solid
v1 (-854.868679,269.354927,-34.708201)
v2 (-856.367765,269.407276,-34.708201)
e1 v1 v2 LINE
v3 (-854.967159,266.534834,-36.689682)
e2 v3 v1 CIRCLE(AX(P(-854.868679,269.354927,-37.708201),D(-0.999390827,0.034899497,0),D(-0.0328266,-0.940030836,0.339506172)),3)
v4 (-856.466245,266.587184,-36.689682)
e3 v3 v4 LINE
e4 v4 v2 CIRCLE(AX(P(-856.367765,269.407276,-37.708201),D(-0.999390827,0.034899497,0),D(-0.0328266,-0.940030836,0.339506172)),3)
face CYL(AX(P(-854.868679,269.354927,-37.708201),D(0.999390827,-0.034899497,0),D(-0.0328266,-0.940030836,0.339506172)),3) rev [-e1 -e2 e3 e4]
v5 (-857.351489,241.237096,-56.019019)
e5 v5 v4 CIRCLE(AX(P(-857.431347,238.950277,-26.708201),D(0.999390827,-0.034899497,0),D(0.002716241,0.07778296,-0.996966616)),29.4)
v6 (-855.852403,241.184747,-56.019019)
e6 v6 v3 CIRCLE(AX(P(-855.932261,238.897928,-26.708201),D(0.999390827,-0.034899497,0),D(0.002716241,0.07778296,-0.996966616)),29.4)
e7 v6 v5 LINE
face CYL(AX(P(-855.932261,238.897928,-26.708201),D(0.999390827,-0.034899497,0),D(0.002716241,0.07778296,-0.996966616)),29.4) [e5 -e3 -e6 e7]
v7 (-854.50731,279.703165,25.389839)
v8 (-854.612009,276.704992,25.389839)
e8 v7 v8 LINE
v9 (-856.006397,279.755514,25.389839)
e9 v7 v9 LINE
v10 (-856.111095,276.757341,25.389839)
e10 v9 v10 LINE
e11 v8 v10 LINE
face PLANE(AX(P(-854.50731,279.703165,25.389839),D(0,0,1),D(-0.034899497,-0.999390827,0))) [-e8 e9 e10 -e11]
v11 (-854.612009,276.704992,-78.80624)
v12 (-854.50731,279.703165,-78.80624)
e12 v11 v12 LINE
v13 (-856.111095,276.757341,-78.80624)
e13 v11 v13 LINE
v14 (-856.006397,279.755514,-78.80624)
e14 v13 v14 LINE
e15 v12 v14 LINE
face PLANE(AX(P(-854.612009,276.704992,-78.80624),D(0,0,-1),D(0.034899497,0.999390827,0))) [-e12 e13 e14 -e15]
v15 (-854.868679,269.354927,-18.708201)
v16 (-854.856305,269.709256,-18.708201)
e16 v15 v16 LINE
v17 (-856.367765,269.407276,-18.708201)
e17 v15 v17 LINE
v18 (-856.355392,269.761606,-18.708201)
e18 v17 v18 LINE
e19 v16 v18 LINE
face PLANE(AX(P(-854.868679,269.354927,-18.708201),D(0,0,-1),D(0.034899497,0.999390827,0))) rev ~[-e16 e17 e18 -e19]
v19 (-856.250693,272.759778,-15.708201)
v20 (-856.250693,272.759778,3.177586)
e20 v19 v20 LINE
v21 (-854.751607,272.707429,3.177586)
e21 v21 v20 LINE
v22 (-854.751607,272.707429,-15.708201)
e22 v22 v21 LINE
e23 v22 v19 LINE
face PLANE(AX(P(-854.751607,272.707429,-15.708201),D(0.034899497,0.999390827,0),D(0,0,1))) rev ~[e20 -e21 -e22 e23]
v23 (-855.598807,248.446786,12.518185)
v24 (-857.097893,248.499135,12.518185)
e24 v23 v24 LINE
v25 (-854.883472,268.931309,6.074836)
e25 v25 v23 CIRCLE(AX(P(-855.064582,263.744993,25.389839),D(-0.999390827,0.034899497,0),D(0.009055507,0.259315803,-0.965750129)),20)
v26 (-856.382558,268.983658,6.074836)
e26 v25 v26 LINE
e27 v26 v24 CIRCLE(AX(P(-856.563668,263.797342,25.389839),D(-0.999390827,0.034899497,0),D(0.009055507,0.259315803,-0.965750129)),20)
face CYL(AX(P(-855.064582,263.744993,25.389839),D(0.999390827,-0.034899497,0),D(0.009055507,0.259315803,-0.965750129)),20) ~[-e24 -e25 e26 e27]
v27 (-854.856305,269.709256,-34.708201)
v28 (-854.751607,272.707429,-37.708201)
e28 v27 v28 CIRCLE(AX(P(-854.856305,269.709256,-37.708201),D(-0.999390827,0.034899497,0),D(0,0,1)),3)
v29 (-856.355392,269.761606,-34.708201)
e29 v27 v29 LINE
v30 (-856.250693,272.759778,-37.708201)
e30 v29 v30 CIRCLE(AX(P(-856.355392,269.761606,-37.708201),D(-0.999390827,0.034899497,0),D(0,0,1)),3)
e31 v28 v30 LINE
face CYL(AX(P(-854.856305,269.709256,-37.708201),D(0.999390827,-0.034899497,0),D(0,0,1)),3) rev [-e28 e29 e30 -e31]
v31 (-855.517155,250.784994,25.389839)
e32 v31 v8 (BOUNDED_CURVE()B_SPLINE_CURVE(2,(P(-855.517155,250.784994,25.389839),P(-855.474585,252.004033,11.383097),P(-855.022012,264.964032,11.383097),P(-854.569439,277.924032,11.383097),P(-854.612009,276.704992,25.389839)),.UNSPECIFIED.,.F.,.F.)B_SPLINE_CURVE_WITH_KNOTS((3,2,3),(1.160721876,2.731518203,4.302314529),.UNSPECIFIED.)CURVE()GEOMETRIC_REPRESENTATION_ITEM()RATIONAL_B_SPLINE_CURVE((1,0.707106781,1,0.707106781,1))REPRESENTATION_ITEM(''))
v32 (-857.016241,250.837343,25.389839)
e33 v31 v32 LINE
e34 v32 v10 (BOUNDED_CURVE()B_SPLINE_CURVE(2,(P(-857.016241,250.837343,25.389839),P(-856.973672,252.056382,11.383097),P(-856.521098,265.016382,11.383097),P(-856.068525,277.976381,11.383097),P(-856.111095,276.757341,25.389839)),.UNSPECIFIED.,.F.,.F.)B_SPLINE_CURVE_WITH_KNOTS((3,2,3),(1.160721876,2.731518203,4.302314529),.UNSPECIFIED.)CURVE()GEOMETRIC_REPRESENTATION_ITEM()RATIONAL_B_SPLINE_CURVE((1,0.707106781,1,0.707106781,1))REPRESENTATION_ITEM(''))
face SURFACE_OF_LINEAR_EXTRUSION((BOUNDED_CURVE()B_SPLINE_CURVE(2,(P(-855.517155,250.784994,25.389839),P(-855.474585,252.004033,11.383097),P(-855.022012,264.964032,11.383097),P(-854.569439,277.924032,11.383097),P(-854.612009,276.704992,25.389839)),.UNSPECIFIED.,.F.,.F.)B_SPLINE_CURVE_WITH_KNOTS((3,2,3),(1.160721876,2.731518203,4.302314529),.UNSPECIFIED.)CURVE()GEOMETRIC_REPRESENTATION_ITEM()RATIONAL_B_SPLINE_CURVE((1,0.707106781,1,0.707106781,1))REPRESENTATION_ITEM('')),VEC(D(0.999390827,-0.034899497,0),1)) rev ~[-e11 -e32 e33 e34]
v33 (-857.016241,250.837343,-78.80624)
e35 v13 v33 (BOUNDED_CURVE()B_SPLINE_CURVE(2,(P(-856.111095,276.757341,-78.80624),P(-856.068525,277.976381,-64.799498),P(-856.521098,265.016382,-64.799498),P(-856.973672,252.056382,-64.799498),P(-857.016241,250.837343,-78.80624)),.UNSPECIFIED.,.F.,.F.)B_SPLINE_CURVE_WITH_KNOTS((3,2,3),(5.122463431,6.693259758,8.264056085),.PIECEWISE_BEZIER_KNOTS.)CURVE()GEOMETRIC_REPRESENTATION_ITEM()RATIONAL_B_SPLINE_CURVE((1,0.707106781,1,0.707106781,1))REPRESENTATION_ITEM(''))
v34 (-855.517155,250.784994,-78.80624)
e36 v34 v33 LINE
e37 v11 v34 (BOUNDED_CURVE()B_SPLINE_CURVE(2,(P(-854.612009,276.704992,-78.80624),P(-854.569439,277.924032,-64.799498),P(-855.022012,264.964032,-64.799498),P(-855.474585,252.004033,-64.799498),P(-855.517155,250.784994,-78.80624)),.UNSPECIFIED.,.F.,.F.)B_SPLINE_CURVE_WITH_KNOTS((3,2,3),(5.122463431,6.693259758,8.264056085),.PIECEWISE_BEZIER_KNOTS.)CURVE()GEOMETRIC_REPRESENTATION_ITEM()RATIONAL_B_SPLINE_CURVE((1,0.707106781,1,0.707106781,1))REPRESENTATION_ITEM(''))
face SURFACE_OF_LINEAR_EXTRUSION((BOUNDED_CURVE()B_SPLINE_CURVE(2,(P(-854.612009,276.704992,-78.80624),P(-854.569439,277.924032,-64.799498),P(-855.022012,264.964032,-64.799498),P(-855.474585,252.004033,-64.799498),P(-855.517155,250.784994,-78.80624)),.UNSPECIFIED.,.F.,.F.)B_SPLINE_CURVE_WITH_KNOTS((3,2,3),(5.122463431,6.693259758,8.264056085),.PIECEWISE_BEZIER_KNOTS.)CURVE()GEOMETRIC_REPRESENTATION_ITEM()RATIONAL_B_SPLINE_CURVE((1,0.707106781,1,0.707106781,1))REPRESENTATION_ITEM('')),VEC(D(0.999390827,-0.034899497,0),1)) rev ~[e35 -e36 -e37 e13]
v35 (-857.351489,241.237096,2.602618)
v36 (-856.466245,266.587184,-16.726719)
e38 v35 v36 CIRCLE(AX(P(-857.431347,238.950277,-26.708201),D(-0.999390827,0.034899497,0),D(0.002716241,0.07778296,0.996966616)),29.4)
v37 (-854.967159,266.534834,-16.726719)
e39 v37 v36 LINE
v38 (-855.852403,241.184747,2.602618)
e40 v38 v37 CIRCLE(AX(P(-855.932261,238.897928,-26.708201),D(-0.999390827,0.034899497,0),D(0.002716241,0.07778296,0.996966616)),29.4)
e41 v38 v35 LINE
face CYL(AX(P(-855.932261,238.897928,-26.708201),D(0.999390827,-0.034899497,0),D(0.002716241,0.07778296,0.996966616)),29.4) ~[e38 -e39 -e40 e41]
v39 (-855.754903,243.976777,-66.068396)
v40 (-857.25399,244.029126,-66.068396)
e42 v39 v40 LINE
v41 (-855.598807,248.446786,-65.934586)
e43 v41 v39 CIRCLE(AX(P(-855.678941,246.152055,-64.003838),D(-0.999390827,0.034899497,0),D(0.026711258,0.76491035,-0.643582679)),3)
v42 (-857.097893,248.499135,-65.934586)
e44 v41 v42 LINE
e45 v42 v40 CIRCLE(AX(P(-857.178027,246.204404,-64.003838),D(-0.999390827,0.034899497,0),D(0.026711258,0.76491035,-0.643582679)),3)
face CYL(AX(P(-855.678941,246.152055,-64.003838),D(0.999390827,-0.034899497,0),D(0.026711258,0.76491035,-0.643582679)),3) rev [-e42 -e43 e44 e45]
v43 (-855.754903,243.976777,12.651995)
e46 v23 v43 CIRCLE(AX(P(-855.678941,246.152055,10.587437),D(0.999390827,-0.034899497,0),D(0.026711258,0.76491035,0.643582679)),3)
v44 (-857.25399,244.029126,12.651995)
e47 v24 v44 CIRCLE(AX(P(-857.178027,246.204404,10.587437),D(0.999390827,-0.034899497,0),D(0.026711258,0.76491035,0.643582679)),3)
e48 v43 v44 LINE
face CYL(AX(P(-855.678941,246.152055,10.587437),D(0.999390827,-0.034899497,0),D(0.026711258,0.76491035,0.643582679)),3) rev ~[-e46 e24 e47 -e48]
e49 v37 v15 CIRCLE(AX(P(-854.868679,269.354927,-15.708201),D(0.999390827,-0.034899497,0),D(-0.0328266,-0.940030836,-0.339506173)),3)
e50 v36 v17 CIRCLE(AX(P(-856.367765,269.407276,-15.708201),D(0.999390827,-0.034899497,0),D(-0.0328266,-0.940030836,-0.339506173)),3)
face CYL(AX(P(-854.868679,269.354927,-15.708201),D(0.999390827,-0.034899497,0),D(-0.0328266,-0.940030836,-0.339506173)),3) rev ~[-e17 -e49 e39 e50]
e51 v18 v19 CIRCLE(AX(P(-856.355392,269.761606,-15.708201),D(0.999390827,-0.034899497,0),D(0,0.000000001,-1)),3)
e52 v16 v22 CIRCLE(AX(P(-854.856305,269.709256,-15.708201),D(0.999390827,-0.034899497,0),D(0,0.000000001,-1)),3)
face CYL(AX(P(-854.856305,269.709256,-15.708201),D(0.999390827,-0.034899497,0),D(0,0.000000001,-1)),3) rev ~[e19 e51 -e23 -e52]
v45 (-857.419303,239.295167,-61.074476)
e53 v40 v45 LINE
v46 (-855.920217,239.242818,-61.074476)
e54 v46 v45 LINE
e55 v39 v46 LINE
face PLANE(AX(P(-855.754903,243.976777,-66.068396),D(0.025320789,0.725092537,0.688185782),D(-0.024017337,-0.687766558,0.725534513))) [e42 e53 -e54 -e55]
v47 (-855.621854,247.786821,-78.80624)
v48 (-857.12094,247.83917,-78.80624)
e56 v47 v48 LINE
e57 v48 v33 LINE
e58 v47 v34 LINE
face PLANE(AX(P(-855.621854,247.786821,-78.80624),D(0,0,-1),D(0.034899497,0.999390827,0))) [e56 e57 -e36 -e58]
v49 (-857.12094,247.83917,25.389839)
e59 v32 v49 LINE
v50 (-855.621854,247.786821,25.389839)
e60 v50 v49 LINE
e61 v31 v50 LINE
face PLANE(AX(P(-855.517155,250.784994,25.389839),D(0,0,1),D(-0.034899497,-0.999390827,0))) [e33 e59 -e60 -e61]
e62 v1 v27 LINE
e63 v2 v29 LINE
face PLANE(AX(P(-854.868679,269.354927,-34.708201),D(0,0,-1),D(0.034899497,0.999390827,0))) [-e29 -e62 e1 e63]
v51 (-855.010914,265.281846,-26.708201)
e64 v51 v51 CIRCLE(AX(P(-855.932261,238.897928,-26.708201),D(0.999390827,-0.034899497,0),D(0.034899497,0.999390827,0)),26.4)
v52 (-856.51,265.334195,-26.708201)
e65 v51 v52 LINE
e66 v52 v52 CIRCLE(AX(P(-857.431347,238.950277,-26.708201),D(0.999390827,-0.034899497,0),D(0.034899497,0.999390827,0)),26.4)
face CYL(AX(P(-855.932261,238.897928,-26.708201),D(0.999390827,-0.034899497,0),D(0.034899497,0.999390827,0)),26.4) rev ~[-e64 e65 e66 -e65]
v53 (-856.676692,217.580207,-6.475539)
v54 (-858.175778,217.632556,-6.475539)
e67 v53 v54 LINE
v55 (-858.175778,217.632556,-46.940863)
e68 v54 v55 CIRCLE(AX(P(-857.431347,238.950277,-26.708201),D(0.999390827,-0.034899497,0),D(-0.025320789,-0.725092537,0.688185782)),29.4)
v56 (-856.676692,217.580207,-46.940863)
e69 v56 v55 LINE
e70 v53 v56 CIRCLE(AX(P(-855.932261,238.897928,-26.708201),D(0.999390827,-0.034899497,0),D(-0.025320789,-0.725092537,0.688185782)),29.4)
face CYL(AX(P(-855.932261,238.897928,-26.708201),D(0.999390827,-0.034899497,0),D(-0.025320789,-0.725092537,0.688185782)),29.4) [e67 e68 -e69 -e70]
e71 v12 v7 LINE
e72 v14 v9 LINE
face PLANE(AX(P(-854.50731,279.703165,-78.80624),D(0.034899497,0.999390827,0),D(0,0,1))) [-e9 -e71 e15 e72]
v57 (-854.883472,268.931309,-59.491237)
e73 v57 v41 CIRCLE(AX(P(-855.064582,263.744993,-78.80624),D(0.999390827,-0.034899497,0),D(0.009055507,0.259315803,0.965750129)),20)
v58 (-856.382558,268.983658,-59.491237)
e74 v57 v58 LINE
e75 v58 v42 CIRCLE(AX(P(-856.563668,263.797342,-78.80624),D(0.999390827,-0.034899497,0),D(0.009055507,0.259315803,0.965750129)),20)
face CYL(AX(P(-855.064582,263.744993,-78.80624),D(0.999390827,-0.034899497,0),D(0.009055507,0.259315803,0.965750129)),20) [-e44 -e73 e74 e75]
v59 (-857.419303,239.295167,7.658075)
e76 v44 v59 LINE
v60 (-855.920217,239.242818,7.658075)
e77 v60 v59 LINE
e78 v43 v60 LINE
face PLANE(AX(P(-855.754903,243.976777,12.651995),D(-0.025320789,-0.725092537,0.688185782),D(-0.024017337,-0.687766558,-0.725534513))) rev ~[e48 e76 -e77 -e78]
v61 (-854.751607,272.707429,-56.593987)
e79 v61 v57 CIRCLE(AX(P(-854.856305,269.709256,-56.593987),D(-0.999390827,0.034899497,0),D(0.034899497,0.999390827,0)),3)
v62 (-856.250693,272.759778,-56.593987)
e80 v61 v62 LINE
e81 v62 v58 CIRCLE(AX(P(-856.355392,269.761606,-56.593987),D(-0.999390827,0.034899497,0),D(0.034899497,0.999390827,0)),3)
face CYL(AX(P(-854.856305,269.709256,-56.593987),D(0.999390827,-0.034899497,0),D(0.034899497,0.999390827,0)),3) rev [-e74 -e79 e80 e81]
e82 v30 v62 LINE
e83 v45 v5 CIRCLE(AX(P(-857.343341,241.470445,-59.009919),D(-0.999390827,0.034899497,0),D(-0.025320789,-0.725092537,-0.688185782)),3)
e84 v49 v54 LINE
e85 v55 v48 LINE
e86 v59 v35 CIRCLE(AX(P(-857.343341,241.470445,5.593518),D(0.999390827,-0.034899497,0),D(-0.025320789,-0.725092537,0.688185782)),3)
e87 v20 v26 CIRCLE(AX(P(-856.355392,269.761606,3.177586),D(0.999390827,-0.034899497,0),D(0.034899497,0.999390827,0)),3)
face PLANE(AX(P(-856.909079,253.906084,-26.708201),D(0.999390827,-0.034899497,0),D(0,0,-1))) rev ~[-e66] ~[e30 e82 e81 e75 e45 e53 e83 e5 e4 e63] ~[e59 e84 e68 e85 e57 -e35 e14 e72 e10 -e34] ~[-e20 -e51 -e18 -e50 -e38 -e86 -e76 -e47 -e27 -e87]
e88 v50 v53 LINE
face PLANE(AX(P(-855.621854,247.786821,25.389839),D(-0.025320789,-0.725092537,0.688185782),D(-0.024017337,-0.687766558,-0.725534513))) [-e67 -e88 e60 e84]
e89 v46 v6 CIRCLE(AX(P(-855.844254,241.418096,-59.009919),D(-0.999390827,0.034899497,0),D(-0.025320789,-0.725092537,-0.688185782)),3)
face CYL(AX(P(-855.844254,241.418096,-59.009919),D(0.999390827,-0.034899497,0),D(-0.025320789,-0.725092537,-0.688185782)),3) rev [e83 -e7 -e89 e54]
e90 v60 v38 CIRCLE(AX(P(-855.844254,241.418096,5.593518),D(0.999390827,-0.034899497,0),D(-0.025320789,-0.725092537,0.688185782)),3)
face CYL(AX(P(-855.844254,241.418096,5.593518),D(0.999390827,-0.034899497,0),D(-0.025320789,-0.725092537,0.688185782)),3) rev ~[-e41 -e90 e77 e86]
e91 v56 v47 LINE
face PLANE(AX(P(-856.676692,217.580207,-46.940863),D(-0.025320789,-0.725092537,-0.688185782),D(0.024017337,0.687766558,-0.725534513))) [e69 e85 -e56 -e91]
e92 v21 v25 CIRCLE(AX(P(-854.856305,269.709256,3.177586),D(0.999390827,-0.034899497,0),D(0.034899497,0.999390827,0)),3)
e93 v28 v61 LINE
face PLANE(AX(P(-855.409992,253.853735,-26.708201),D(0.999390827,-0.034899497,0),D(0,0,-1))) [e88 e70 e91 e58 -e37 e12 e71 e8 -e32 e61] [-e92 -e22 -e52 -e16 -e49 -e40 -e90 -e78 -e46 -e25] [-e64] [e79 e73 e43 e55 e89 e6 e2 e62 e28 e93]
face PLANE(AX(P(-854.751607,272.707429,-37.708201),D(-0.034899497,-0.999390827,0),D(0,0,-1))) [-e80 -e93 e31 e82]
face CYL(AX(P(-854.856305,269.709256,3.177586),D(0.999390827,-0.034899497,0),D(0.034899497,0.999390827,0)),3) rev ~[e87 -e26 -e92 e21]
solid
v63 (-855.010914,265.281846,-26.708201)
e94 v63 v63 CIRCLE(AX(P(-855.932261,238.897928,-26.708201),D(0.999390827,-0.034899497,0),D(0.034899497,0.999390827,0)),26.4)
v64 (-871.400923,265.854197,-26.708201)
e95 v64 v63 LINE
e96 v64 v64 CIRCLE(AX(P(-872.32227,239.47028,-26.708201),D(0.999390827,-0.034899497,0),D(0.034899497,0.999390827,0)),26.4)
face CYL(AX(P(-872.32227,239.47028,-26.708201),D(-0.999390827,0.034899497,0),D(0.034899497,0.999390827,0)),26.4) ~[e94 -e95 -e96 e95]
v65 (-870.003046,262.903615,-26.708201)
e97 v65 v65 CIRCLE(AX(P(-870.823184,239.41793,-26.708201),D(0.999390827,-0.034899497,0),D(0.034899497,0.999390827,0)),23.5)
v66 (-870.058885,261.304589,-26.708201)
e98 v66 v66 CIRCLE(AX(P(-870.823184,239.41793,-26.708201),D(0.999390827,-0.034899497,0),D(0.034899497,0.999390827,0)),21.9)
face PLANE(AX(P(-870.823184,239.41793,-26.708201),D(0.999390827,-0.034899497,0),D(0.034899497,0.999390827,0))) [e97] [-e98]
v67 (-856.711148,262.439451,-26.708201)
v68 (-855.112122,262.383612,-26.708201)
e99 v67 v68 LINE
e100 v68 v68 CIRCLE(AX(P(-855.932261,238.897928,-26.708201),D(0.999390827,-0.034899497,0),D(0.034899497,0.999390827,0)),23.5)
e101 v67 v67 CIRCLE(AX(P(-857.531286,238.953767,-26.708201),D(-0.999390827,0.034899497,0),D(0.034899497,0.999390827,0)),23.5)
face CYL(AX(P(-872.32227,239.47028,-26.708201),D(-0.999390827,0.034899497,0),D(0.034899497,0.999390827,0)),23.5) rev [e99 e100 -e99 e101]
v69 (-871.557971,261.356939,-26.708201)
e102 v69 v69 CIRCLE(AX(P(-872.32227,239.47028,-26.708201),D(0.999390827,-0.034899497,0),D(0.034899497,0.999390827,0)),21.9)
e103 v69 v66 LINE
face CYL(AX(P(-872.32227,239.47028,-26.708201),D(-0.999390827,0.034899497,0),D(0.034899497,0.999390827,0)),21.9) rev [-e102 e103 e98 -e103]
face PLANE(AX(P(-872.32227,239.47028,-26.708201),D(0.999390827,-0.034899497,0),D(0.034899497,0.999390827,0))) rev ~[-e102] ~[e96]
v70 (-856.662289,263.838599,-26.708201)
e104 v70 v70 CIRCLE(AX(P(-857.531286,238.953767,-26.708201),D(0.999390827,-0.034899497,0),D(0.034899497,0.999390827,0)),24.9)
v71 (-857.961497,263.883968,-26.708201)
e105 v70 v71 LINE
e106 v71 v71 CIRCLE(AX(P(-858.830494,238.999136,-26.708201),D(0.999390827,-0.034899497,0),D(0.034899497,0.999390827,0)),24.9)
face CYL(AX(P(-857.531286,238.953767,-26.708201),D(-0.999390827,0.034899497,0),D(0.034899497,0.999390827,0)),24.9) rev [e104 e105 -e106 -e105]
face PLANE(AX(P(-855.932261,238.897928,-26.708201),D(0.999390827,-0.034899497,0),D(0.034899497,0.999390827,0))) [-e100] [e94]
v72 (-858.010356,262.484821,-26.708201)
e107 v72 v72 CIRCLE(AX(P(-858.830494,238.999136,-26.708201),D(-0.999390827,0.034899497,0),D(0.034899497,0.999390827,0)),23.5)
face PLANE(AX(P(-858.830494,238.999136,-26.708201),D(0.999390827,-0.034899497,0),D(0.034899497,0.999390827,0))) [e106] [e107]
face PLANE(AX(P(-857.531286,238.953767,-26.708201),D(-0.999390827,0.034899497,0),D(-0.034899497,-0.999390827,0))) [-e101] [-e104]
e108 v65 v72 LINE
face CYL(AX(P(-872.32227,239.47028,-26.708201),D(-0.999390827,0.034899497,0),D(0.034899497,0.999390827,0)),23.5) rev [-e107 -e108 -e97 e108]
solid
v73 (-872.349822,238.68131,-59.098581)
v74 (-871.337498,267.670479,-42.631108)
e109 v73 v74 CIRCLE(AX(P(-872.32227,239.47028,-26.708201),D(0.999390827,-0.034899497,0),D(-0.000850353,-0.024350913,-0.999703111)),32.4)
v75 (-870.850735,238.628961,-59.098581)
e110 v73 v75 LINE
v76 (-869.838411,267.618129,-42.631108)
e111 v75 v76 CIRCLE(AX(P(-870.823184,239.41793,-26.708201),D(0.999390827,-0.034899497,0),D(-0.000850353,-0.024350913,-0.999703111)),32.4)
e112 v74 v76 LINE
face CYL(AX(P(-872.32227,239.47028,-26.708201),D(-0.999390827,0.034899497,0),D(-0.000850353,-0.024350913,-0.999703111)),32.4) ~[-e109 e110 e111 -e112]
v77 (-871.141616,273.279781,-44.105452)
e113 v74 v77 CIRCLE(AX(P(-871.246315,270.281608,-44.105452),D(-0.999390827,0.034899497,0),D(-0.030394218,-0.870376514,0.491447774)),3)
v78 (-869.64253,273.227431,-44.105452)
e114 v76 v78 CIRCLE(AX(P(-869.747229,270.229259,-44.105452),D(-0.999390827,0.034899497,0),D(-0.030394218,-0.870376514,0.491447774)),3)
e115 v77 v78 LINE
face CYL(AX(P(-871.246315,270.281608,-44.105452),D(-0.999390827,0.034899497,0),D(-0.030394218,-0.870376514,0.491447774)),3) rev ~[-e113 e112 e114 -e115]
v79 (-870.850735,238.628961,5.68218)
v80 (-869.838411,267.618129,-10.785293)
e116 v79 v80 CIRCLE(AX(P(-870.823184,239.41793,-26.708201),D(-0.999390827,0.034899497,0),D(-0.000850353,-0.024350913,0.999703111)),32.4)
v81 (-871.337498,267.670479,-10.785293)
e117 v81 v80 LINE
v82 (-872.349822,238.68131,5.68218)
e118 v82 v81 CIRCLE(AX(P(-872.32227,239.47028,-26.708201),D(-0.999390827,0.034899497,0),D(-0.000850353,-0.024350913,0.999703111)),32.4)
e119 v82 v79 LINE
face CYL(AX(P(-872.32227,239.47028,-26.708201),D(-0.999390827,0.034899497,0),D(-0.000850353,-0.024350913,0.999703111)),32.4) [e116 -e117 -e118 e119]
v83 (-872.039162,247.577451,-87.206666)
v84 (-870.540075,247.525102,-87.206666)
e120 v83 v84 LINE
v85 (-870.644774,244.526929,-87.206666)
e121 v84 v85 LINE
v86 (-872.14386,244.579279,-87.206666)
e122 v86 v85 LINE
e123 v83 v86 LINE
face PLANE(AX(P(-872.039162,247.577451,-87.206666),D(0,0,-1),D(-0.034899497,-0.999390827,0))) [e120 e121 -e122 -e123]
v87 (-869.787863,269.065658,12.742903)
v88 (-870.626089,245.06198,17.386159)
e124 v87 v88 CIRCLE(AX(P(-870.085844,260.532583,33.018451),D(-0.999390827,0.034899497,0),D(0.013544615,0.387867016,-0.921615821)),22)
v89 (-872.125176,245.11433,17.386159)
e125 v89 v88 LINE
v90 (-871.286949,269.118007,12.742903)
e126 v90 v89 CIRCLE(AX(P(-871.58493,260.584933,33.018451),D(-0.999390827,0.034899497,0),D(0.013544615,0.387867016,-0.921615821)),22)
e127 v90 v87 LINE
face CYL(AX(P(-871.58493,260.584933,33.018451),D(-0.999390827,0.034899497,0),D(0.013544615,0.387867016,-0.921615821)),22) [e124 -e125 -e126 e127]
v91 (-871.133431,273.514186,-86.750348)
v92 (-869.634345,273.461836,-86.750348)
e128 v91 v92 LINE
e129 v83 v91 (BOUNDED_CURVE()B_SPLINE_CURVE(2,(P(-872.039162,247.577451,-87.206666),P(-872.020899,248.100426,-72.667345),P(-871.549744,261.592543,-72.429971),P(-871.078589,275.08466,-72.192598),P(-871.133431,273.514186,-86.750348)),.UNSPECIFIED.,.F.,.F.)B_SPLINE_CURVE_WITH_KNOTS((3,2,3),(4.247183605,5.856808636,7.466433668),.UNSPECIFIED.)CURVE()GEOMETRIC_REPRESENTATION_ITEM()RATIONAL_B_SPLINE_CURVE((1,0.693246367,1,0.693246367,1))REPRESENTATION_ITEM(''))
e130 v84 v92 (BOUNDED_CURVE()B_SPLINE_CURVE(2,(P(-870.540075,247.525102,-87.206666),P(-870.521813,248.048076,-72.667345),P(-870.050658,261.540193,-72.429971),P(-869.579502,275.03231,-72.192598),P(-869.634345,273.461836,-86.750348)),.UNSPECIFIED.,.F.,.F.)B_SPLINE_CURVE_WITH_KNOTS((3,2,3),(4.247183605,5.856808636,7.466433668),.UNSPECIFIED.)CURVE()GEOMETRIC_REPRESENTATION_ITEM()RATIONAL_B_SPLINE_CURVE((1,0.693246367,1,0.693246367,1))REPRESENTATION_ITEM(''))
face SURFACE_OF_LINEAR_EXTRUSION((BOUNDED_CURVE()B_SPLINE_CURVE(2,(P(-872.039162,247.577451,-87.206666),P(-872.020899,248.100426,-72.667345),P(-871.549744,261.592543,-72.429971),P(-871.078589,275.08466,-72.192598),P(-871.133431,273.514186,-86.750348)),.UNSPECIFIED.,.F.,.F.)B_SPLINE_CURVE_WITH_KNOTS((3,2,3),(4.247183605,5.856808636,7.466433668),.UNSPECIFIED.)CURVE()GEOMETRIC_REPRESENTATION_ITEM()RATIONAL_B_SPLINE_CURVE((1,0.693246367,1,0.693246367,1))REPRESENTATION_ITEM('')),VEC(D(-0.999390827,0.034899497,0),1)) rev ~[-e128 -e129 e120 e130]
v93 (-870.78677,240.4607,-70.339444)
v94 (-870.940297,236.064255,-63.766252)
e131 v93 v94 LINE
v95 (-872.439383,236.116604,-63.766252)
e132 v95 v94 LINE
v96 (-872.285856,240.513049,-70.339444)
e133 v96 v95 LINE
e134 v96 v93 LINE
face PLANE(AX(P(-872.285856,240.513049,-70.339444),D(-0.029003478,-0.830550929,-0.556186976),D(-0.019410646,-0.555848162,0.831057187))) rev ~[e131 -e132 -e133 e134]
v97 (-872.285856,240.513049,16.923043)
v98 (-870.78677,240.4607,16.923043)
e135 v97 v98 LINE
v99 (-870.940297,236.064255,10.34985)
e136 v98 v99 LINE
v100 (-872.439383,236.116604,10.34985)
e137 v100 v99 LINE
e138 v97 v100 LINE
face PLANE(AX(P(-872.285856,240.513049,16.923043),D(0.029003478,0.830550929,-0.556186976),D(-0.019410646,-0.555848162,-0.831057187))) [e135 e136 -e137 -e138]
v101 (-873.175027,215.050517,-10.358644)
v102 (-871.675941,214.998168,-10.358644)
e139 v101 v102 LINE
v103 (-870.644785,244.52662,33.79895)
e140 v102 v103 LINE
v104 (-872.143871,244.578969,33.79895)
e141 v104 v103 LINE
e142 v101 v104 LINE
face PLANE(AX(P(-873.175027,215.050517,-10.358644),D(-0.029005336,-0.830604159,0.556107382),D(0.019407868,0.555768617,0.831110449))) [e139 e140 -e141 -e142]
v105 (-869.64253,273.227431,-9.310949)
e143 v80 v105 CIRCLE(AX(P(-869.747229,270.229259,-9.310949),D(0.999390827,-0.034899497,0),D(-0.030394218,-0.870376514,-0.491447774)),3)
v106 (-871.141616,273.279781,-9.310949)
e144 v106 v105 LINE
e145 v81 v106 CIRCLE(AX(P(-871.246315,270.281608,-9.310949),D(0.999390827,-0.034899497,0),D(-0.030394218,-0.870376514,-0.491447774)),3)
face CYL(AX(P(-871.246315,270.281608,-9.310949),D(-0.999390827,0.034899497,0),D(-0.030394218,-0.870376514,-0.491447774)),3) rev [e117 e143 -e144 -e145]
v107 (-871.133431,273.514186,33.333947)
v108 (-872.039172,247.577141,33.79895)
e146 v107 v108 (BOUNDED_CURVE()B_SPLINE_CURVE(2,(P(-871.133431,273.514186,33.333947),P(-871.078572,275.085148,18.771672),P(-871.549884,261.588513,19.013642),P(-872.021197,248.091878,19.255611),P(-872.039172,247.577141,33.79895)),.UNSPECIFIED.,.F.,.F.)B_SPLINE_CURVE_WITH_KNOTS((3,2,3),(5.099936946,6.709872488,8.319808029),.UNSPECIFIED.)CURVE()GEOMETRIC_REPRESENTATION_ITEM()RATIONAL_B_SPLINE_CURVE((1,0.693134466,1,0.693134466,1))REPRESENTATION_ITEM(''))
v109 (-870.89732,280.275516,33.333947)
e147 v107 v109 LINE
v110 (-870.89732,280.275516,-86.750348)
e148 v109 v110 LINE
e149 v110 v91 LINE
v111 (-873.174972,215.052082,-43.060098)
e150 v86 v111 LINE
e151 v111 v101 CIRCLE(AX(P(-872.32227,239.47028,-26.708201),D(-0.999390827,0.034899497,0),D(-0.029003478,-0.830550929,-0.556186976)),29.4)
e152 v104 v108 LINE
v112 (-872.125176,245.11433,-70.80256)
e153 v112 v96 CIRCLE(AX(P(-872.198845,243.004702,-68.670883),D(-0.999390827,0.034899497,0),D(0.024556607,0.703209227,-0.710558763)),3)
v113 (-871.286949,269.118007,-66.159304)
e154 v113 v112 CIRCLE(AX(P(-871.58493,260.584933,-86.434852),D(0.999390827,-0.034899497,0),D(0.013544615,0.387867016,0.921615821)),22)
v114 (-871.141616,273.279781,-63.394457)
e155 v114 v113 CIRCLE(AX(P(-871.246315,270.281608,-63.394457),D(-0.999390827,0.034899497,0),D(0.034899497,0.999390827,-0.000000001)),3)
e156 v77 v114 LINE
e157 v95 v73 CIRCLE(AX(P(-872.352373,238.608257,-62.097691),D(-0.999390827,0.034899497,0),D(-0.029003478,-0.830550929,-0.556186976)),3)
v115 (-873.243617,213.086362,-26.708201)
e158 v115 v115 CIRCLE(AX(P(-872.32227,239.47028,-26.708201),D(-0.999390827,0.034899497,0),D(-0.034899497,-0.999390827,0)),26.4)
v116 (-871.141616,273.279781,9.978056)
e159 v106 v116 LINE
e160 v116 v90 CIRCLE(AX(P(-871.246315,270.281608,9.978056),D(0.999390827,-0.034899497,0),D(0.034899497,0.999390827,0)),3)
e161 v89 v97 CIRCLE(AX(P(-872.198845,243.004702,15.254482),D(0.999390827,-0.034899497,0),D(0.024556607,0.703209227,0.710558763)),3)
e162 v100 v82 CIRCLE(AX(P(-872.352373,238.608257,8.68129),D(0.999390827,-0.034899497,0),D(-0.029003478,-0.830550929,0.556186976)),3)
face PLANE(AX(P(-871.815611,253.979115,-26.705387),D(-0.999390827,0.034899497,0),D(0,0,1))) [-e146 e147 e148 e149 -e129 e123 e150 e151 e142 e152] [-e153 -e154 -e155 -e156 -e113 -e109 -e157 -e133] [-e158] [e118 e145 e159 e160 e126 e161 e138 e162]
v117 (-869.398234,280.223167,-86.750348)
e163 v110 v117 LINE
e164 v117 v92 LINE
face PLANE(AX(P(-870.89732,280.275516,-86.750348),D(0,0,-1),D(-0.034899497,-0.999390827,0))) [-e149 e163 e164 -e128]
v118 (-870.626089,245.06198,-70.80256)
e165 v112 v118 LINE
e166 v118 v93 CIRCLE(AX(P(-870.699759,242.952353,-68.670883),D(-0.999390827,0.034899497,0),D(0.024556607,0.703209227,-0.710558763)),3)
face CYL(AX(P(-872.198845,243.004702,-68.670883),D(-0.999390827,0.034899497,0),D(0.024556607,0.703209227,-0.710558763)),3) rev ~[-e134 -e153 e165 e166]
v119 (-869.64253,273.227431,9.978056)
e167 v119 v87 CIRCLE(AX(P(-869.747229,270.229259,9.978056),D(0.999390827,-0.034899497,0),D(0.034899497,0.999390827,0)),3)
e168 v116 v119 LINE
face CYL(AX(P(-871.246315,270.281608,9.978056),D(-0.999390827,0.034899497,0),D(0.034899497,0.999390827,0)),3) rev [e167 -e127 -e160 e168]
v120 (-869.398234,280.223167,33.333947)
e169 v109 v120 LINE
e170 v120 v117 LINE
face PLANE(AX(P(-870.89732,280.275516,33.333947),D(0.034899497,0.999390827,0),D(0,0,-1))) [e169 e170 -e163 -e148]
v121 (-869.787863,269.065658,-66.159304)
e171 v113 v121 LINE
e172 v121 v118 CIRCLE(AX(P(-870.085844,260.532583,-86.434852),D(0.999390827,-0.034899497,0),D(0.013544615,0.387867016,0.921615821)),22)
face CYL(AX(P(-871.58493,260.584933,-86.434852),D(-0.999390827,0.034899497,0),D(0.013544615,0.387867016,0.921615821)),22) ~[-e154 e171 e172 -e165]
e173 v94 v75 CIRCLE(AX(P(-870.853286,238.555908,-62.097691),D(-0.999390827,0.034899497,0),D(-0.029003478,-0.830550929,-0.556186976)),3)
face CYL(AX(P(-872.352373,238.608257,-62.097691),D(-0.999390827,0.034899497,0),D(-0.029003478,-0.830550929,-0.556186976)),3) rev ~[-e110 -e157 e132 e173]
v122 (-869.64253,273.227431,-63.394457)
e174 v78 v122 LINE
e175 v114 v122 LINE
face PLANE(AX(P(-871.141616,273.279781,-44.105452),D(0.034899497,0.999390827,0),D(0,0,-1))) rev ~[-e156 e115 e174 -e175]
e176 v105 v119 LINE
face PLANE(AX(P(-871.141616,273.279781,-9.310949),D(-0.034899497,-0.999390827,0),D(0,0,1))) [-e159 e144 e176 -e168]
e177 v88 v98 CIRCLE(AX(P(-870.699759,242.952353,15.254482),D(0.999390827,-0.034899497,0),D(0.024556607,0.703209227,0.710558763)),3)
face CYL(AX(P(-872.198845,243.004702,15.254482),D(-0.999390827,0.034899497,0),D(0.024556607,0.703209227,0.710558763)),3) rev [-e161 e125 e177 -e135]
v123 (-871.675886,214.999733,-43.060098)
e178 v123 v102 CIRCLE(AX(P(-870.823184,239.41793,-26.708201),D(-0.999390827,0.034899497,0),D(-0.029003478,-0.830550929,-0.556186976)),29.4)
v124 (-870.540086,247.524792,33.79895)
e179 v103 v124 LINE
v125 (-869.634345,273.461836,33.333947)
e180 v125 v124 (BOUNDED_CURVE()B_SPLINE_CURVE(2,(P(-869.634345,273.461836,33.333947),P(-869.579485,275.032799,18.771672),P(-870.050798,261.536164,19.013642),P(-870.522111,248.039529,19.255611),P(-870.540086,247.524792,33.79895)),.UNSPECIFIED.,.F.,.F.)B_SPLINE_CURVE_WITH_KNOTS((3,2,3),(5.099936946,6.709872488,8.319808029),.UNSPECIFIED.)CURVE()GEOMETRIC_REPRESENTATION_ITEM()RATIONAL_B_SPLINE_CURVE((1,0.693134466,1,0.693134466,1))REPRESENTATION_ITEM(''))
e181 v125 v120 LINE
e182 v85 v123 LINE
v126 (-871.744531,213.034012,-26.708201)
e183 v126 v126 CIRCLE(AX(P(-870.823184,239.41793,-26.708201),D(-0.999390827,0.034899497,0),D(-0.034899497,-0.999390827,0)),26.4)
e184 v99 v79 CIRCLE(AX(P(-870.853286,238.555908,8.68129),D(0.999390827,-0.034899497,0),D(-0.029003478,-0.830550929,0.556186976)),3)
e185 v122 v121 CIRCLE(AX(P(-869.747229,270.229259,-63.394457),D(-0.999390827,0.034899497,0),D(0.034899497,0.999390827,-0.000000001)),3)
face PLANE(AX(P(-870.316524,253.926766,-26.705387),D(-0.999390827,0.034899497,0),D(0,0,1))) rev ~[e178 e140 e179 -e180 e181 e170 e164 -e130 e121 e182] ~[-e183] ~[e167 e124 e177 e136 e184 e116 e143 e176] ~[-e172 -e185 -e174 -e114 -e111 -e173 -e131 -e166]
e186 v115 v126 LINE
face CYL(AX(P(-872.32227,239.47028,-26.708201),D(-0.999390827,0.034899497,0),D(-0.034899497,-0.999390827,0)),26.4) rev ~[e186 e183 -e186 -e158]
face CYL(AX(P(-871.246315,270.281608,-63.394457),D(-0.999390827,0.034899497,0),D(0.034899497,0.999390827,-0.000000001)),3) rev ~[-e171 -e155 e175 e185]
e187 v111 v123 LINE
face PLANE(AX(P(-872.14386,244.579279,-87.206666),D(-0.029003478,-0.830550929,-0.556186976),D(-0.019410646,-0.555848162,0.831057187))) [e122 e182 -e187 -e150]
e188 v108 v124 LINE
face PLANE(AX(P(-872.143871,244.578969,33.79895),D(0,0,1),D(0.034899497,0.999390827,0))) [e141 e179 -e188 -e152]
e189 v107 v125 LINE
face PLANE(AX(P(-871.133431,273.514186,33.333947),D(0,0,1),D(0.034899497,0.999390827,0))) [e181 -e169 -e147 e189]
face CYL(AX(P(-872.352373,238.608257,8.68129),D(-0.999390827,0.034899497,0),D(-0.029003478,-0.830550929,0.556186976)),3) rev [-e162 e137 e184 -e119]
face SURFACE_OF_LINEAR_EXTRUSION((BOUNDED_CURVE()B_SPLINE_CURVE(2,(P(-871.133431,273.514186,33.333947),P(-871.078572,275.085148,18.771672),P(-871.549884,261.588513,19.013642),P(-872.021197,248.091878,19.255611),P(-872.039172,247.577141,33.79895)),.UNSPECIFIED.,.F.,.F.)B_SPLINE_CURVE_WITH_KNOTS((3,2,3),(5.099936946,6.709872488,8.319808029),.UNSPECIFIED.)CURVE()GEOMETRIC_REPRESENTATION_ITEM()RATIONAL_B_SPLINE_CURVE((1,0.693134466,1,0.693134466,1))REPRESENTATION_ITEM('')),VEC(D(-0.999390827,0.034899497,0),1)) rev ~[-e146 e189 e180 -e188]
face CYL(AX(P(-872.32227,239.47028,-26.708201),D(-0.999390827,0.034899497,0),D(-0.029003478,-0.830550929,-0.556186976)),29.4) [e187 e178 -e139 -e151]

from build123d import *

# Parameters (mm, degrees)
SKETCH1_R                           = 12.7
SKETCH1_R_2                         = 10.668
STRUCTURAL_MEMBERLEFTDIAGTUBE_DEPTH = 435.613716129
EXTRUDEBEARINGCUP_START             = -8.2
SKETCH12_R                          = 26.4
SKETCH12_R_2                        = 23.5
EXTRUDEBEARINGCUP_DEPTH             = 16.4
SKETCH15_R                          = 23.5
SKETCH15_R_2                        = 21.9
BEARING_BACKSTOP_DEPTH              = 1.5
SKETCH24_R                          = 26.4
BOSS_EXTRUDEREARFLANGE_DEPTH        = 1.5
SKETCH16_R                          = 26.4
BOSS_EXTRUDEFRONTFLANGE_DEPTH       = 1.5
SKETCH20_R                          = 12.7
CUT_EXTRUDE1_DEPTH                  = 834.807291922
SKETCH26_R                          = 12.7
CUT_EXTRUDE2_DEPTH                  = 706.049293577


with BuildPart() as part:
    # Sketch1 → Structural MemberLeftDiagTube (new body)
    with BuildSketch(Plane(origin=(-742.278957466, 285.318954728, -26.691255907), x_dir=(0.4337677346733861, -0.1083105522192937, 0.894491127197062), z_dir=(-0.8944911271970621, -0.17110086067965116, 0.41304977767868617))):
        Circle(SKETCH1_R)
        Circle(SKETCH1_R_2, mode=Mode.SUBTRACT)
    extrude(amount=STRUCTURAL_MEMBERLEFTDIAGTUBE_DEPTH)


with BuildPart() as body_2:
    # MirrorRightDiagTube: mirrored copy
    add(part.part.mirror(Plane.XY.offset(-26.708200568)))


with BuildPart() as body_3:
    # Sketch12 → ExtrudeBearingCup (new body)
    with BuildSketch(Plane(origin=(-871.417099955, 30.430555679, 0), x_dir=(0, 0, -1), z_dir=(0.9993908270190963, -0.03489949670248751, 0)).offset(EXTRUDEBEARINGCUP_START)):
        with Locations(Location((26.708200568, 208.880792495, 0), (0, 0, 90))):
            Circle(SKETCH12_R)
        with Locations(Location((26.708200568, 208.880792495, 0), (0, 0, 90))):
            Circle(SKETCH12_R_2, mode=Mode.SUBTRACT)
    extrude(amount=EXTRUDEBEARINGCUP_DEPTH)

    # Sketch15 → Bearing Backstop (add)
    with BuildSketch(Plane(origin=(-879.612104737, 30.716731552, 0), x_dir=(0, 0, -1), z_dir=(0.9993908270190963, -0.034899496702487515, 0))):
        with Locations(Location((26.708200568, 208.880792495, 0), (0, 0, 90))):
            Circle(SKETCH15_R)
        with Locations(Location((26.708200568, 208.880792495, 0), (0, 0, 90))):
            Circle(SKETCH15_R_2, mode=Mode.SUBTRACT)
    extrude(amount=BEARING_BACKSTOP_DEPTH)

    # Sketch23 → Cut-RevolveSnapRingGroove (revolve, cut)
    with BuildSketch(Plane.XY.offset(-26.708200568), mode=Mode.PRIVATE) as cut_revolvesnapringgroove_sk:
        Polygon((-857.531285968, 238.953766961), (-858.400283436, 214.068935368), (-859.699491511, 214.114304714), (-858.830494043, 238.999136306), align=None)
    revolve(cut_revolvesnapringgroove_sk.sketch.rotate(Axis((-880.000118881, 239.738395896, -26.708200568), (0.9993908270190962, -0.03489949670248762, 0)), 180), axis=Axis((-880.000118881, 239.738395896, -26.708200568), (0.9993908270190962, -0.03489949670248762, 0)), mode=Mode.SUBTRACT)


with BuildPart() as body_4:
    # Sketch24 → Boss-ExtrudeRearFlange (new body)
    with BuildSketch(Plane(origin=(-863.222095173, 30.144379806, 0), x_dir=(0, 0, -1), z_dir=(0.9993908270190963, -0.034899496702487515, 0))):
        with BuildLine():
            Line((78.806239974, 246.71090197), (78.806239974, 249.71090197))
            Line((78.806239974, 249.71090197), (-25.389838838, 249.71090197))
            Line((-25.389838838, 249.71090197), (-25.389838838, 246.71090197))
            add(Edge.make_bspline(
                [(-25.389838838, 220.775104066), (-11.383096571, 221.994886497), (-11.383096571, 234.962785449), (-11.383096571, 247.930684401), (-25.389838838, 246.71090197)],
                knots=[1.160721876, 1.160721876, 1.160721876, 2.731518203, 2.731518203, 4.302314529, 4.302314529, 4.302314529], degree=2, weights=[1, 0.707106781, 1, 0.707106781, 1]))
            Line((-25.389838838, 220.775104066), (-25.389838838, 217.775104066))
            Line((-25.389838838, 217.775104066), (6.475538565, 187.550077826))
            ThreePointArc((6.475538565, 187.550077826), (26.708200568, 179.480792495), (46.94086257, 187.550077826))
            Line((46.94086257, 187.550077826), (78.806239974, 217.775104066))
            Line((78.806239974, 217.775104066), (78.806239974, 220.775104066))
            add(Edge.make_bspline(
                [(78.806239974, 246.71090197), (64.799497707, 247.930684401), (64.799497707, 234.962785449), (64.799497707, 221.994886497), (78.806239974, 220.775104066)],
                knots=[5.122463431, 5.122463431, 5.122463431, 6.693259758, 6.693259758, 8.264056085, 8.264056085, 8.264056085], degree=2, weights=[1, 0.707106781, 1, 0.707106781, 1]))
        make_face()
        with Locations(Location((26.708200568, 208.880792495, 0), (0, 0, 90))):
            Circle(SKETCH24_R, mode=Mode.SUBTRACT)
        with BuildLine():
            Line((-12.651994558, 213.962737757), (-7.658075134, 209.225893008))
            ThreePointArc((-7.658075134, 209.225893008), (-4.517205064, 208.602219609), (-2.602617939, 211.16900543))
            ThreePointArc((-2.602617939, 211.16900543), (3.323935367, 226.700336289), (16.726719086, 236.534544997))
            ThreePointArc((16.726719086, 236.534544997), (18.163353878, 237.632343071), (18.708200568, 239.356356477))
            Line((18.708200568, 239.356356477), (18.708200568, 239.71090197))
            ThreePointArc((18.708200568, 239.71090197), (17.829520911, 241.832222313), (15.708200568, 242.71090197))
            Line((15.708200568, 242.71090197), (-3.177585866, 242.71090197))
            ThreePointArc((-3.177585866, 242.71090197), (-5.558264845, 241.536379331), (-6.074836253, 238.932480367))
            ThreePointArc((-6.074836253, 238.932480367), (-6.310345755, 227.745258132), (-12.518185249, 218.435471084))
            ThreePointArc((-12.518185249, 218.435471084), (-13.5860956, 216.229051182), (-12.651994558, 213.962737757))
        make_face(mode=Mode.SUBTRACT)
        with BuildLine():
            Line((66.068395694, 213.962737757), (61.07447627, 209.225893008))
            ThreePointArc((61.07447627, 209.225893008), (57.9336062, 208.602219609), (56.019019075, 211.16900543))
            ThreePointArc((56.019019075, 211.16900543), (50.092465769, 226.700336289), (36.689682049, 236.534544997))
            ThreePointArc((36.689682049, 236.534544997), (35.253047257, 237.632343071), (34.708200568, 239.356356477))
            Line((34.708200568, 239.356356477), (34.708200568, 239.71090197))
            ThreePointArc((34.708200568, 239.71090197), (35.586880224, 241.832222313), (37.708200568, 242.71090197))
            Line((37.708200568, 242.71090197), (56.593987002, 242.71090197))
            ThreePointArc((56.593987002, 242.71090197), (58.974665981, 241.536379331), (59.491237389, 238.932480367))
            ThreePointArc((59.491237389, 238.932480367), (59.726746891, 227.745258132), (65.934586385, 218.435471084))
            ThreePointArc((65.934586385, 218.435471084), (67.002496736, 216.229051182), (66.068395694, 213.962737757))
        make_face(mode=Mode.SUBTRACT)
    extrude(amount=-BOSS_EXTRUDEREARFLANGE_DEPTH)


with BuildPart() as body_5:
    # Sketch16 → Boss-ExtrudeFrontFlange (new body)
    with BuildSketch(Plane(origin=(-879.612104737, 30.716731552, 0), x_dir=(0, 0, 1), z_dir=(-0.9993908270190963, 0.034899496702487515, 0))):
        with BuildLine():
            Line((33.333947306, 249.71090197), (-86.750348442, 249.71090197))
            Line((-86.750348442, 249.71090197), (-86.750348442, 242.945449778))
            add(Edge.make_bspline(
                [(-87.206665991, 216.992905829), (-72.667344737, 217.516199157), (-72.429971378, 231.01654018), (-72.192598019, 244.516881203), (-86.750348442, 242.945449778)],
                knots=[4.247183605, 4.247183605, 4.247183605, 5.856808636, 5.856808636, 7.466433668, 7.466433668, 7.466433668], degree=2, weights=[1, 0.693246367, 1, 0.693246367, 1]))
            Line((-87.206665991, 216.992905829), (-87.206665991, 213.992905829))
            Line((-87.206665991, 213.992905829), (-43.060097657, 184.4477112))
            ThreePointArc((-43.060097657, 184.4477112), (-26.709608396, 179.480792529), (-10.358643524, 184.446145281))
            Line((-10.358643524, 184.446145281), (33.798949952, 213.992595743))
            Line((33.798949952, 213.992595743), (33.798949952, 216.992595743))
            add(Edge.make_bspline(
                [(33.333947306, 242.945449778), (18.771672419, 244.517369595), (19.013641816, 231.012507832), (19.255611213, 217.50764607), (33.798949952, 216.992595743)],
                knots=[5.099936946, 5.099936946, 5.099936946, 6.709872488, 6.709872488, 8.319808029, 8.319808029, 8.319808029], degree=2, weights=[1, 0.693134466, 1, 0.693134466, 1]))
            Line((33.333947306, 242.945449778), (33.333947306, 249.71090197))
        make_face()
        with Locations(Location((-26.708200568, 208.880792495, 0), (0, 0, 270))):
            Circle(SKETCH16_R, mode=Mode.SUBTRACT)
        with BuildLine():
            Line((-70.339444305, 209.924197834), (-63.766251621, 205.52507318))
            ThreePointArc((-63.766251621, 205.52507318), (-60.652345168, 205.389371158), (-59.098581361, 208.091342008))
            ThreePointArc((-59.098581361, 208.091342008), (-54.884301087, 224.876646944), (-42.631108459, 237.098180828))
            ThreePointArc((-42.631108459, 237.098180828), (-41.203886392, 240.473081927), (-44.105451782, 242.71090197))
            Line((-44.105451782, 242.71090197), (-63.394456936, 242.71090197))
            ThreePointArc((-63.394456936, 242.71090197), (-65.89374993, 241.370279722), (-66.159304398, 238.546591654))
            ThreePointArc((-66.159304398, 238.546591654), (-64.834781938, 225.832558144), (-70.802559667, 214.528282988))
            ThreePointArc((-70.802559667, 214.528282988), (-71.655820689, 212.117120751), (-70.339444305, 209.924197834))
        make_face(mode=Mode.SUBTRACT)
        with BuildLine():
            Line((16.923043169, 209.924197834), (10.349850485, 205.52507318))
            ThreePointArc((10.349850485, 205.52507318), (7.235944032, 205.389371158), (5.682180225, 208.091342008))
            ThreePointArc((5.682180225, 208.091342008), (1.467899951, 224.876646944), (-10.785292677, 237.098180828))
            ThreePointArc((-10.785292677, 237.098180828), (-12.212514744, 240.473081927), (-9.310949354, 242.71090197))
            Line((-9.310949354, 242.71090197), (9.9780558, 242.71090197))
            ThreePointArc((9.9780558, 242.71090197), (12.477348795, 241.370279722), (12.742903262, 238.546591654))
            ThreePointArc((12.742903262, 238.546591654), (11.418380802, 225.832558144), (17.386158531, 214.528282988))
            ThreePointArc((17.386158531, 214.528282988), (18.239419553, 212.117120751), (16.923043169, 209.924197834))
        make_face(mode=Mode.SUBTRACT)
    extrude(amount=-BOSS_EXTRUDEFRONTFLANGE_DEPTH)


with BuildPart() as cut_extrude1_tool:
    # Sketch20 → Cut-Extrude1 (new, through all)
    with BuildSketch(Plane(origin=(-928.95736894, -184.712015501, 428.965277628), x_dir=(0.40512847183893946, 0.08055133977062362, 0.9107043444316071), z_dir=(-0.8944911271970621, -0.1711008606796512, 0.41304977767868617))):
        with Locations((-301.478020707, 427.495628267)):
            Circle(SKETCH20_R)
    extrude(amount=-CUT_EXTRUDE1_DEPTH)


with BuildPart() as body_2_1:
    add(body_2.part)

    # Cut-Extrude1: cut by cut_extrude1_tool
    add(cut_extrude1_tool.part, mode=Mode.SUBTRACT)

    # Sketch26 → Cut-Extrude2 (cut, through all)
    with BuildSketch(Plane(origin=(-949.767238699, -181.674235826, -438.574665375), x_dir=(-0.4056944471820776, -0.07760241211483396, 0.9107084501417498), z_dir=(-0.8944911271970621, -0.1711008606796512, -0.41304977767868617))):
        with Locations((254.658196603, 419.695064707)):
            Circle(SKETCH26_R)
    extrude(amount=-CUT_EXTRUDE2_DEPTH, mode=Mode.SUBTRACT)


with BuildPart() as part_1:
    add(part.part)

    # Cut-Extrude1: cut by cut_extrude1_tool
    add(cut_extrude1_tool.part, mode=Mode.SUBTRACT)


solid = Compound([body_3.part, body_4.part, body_5.part])
